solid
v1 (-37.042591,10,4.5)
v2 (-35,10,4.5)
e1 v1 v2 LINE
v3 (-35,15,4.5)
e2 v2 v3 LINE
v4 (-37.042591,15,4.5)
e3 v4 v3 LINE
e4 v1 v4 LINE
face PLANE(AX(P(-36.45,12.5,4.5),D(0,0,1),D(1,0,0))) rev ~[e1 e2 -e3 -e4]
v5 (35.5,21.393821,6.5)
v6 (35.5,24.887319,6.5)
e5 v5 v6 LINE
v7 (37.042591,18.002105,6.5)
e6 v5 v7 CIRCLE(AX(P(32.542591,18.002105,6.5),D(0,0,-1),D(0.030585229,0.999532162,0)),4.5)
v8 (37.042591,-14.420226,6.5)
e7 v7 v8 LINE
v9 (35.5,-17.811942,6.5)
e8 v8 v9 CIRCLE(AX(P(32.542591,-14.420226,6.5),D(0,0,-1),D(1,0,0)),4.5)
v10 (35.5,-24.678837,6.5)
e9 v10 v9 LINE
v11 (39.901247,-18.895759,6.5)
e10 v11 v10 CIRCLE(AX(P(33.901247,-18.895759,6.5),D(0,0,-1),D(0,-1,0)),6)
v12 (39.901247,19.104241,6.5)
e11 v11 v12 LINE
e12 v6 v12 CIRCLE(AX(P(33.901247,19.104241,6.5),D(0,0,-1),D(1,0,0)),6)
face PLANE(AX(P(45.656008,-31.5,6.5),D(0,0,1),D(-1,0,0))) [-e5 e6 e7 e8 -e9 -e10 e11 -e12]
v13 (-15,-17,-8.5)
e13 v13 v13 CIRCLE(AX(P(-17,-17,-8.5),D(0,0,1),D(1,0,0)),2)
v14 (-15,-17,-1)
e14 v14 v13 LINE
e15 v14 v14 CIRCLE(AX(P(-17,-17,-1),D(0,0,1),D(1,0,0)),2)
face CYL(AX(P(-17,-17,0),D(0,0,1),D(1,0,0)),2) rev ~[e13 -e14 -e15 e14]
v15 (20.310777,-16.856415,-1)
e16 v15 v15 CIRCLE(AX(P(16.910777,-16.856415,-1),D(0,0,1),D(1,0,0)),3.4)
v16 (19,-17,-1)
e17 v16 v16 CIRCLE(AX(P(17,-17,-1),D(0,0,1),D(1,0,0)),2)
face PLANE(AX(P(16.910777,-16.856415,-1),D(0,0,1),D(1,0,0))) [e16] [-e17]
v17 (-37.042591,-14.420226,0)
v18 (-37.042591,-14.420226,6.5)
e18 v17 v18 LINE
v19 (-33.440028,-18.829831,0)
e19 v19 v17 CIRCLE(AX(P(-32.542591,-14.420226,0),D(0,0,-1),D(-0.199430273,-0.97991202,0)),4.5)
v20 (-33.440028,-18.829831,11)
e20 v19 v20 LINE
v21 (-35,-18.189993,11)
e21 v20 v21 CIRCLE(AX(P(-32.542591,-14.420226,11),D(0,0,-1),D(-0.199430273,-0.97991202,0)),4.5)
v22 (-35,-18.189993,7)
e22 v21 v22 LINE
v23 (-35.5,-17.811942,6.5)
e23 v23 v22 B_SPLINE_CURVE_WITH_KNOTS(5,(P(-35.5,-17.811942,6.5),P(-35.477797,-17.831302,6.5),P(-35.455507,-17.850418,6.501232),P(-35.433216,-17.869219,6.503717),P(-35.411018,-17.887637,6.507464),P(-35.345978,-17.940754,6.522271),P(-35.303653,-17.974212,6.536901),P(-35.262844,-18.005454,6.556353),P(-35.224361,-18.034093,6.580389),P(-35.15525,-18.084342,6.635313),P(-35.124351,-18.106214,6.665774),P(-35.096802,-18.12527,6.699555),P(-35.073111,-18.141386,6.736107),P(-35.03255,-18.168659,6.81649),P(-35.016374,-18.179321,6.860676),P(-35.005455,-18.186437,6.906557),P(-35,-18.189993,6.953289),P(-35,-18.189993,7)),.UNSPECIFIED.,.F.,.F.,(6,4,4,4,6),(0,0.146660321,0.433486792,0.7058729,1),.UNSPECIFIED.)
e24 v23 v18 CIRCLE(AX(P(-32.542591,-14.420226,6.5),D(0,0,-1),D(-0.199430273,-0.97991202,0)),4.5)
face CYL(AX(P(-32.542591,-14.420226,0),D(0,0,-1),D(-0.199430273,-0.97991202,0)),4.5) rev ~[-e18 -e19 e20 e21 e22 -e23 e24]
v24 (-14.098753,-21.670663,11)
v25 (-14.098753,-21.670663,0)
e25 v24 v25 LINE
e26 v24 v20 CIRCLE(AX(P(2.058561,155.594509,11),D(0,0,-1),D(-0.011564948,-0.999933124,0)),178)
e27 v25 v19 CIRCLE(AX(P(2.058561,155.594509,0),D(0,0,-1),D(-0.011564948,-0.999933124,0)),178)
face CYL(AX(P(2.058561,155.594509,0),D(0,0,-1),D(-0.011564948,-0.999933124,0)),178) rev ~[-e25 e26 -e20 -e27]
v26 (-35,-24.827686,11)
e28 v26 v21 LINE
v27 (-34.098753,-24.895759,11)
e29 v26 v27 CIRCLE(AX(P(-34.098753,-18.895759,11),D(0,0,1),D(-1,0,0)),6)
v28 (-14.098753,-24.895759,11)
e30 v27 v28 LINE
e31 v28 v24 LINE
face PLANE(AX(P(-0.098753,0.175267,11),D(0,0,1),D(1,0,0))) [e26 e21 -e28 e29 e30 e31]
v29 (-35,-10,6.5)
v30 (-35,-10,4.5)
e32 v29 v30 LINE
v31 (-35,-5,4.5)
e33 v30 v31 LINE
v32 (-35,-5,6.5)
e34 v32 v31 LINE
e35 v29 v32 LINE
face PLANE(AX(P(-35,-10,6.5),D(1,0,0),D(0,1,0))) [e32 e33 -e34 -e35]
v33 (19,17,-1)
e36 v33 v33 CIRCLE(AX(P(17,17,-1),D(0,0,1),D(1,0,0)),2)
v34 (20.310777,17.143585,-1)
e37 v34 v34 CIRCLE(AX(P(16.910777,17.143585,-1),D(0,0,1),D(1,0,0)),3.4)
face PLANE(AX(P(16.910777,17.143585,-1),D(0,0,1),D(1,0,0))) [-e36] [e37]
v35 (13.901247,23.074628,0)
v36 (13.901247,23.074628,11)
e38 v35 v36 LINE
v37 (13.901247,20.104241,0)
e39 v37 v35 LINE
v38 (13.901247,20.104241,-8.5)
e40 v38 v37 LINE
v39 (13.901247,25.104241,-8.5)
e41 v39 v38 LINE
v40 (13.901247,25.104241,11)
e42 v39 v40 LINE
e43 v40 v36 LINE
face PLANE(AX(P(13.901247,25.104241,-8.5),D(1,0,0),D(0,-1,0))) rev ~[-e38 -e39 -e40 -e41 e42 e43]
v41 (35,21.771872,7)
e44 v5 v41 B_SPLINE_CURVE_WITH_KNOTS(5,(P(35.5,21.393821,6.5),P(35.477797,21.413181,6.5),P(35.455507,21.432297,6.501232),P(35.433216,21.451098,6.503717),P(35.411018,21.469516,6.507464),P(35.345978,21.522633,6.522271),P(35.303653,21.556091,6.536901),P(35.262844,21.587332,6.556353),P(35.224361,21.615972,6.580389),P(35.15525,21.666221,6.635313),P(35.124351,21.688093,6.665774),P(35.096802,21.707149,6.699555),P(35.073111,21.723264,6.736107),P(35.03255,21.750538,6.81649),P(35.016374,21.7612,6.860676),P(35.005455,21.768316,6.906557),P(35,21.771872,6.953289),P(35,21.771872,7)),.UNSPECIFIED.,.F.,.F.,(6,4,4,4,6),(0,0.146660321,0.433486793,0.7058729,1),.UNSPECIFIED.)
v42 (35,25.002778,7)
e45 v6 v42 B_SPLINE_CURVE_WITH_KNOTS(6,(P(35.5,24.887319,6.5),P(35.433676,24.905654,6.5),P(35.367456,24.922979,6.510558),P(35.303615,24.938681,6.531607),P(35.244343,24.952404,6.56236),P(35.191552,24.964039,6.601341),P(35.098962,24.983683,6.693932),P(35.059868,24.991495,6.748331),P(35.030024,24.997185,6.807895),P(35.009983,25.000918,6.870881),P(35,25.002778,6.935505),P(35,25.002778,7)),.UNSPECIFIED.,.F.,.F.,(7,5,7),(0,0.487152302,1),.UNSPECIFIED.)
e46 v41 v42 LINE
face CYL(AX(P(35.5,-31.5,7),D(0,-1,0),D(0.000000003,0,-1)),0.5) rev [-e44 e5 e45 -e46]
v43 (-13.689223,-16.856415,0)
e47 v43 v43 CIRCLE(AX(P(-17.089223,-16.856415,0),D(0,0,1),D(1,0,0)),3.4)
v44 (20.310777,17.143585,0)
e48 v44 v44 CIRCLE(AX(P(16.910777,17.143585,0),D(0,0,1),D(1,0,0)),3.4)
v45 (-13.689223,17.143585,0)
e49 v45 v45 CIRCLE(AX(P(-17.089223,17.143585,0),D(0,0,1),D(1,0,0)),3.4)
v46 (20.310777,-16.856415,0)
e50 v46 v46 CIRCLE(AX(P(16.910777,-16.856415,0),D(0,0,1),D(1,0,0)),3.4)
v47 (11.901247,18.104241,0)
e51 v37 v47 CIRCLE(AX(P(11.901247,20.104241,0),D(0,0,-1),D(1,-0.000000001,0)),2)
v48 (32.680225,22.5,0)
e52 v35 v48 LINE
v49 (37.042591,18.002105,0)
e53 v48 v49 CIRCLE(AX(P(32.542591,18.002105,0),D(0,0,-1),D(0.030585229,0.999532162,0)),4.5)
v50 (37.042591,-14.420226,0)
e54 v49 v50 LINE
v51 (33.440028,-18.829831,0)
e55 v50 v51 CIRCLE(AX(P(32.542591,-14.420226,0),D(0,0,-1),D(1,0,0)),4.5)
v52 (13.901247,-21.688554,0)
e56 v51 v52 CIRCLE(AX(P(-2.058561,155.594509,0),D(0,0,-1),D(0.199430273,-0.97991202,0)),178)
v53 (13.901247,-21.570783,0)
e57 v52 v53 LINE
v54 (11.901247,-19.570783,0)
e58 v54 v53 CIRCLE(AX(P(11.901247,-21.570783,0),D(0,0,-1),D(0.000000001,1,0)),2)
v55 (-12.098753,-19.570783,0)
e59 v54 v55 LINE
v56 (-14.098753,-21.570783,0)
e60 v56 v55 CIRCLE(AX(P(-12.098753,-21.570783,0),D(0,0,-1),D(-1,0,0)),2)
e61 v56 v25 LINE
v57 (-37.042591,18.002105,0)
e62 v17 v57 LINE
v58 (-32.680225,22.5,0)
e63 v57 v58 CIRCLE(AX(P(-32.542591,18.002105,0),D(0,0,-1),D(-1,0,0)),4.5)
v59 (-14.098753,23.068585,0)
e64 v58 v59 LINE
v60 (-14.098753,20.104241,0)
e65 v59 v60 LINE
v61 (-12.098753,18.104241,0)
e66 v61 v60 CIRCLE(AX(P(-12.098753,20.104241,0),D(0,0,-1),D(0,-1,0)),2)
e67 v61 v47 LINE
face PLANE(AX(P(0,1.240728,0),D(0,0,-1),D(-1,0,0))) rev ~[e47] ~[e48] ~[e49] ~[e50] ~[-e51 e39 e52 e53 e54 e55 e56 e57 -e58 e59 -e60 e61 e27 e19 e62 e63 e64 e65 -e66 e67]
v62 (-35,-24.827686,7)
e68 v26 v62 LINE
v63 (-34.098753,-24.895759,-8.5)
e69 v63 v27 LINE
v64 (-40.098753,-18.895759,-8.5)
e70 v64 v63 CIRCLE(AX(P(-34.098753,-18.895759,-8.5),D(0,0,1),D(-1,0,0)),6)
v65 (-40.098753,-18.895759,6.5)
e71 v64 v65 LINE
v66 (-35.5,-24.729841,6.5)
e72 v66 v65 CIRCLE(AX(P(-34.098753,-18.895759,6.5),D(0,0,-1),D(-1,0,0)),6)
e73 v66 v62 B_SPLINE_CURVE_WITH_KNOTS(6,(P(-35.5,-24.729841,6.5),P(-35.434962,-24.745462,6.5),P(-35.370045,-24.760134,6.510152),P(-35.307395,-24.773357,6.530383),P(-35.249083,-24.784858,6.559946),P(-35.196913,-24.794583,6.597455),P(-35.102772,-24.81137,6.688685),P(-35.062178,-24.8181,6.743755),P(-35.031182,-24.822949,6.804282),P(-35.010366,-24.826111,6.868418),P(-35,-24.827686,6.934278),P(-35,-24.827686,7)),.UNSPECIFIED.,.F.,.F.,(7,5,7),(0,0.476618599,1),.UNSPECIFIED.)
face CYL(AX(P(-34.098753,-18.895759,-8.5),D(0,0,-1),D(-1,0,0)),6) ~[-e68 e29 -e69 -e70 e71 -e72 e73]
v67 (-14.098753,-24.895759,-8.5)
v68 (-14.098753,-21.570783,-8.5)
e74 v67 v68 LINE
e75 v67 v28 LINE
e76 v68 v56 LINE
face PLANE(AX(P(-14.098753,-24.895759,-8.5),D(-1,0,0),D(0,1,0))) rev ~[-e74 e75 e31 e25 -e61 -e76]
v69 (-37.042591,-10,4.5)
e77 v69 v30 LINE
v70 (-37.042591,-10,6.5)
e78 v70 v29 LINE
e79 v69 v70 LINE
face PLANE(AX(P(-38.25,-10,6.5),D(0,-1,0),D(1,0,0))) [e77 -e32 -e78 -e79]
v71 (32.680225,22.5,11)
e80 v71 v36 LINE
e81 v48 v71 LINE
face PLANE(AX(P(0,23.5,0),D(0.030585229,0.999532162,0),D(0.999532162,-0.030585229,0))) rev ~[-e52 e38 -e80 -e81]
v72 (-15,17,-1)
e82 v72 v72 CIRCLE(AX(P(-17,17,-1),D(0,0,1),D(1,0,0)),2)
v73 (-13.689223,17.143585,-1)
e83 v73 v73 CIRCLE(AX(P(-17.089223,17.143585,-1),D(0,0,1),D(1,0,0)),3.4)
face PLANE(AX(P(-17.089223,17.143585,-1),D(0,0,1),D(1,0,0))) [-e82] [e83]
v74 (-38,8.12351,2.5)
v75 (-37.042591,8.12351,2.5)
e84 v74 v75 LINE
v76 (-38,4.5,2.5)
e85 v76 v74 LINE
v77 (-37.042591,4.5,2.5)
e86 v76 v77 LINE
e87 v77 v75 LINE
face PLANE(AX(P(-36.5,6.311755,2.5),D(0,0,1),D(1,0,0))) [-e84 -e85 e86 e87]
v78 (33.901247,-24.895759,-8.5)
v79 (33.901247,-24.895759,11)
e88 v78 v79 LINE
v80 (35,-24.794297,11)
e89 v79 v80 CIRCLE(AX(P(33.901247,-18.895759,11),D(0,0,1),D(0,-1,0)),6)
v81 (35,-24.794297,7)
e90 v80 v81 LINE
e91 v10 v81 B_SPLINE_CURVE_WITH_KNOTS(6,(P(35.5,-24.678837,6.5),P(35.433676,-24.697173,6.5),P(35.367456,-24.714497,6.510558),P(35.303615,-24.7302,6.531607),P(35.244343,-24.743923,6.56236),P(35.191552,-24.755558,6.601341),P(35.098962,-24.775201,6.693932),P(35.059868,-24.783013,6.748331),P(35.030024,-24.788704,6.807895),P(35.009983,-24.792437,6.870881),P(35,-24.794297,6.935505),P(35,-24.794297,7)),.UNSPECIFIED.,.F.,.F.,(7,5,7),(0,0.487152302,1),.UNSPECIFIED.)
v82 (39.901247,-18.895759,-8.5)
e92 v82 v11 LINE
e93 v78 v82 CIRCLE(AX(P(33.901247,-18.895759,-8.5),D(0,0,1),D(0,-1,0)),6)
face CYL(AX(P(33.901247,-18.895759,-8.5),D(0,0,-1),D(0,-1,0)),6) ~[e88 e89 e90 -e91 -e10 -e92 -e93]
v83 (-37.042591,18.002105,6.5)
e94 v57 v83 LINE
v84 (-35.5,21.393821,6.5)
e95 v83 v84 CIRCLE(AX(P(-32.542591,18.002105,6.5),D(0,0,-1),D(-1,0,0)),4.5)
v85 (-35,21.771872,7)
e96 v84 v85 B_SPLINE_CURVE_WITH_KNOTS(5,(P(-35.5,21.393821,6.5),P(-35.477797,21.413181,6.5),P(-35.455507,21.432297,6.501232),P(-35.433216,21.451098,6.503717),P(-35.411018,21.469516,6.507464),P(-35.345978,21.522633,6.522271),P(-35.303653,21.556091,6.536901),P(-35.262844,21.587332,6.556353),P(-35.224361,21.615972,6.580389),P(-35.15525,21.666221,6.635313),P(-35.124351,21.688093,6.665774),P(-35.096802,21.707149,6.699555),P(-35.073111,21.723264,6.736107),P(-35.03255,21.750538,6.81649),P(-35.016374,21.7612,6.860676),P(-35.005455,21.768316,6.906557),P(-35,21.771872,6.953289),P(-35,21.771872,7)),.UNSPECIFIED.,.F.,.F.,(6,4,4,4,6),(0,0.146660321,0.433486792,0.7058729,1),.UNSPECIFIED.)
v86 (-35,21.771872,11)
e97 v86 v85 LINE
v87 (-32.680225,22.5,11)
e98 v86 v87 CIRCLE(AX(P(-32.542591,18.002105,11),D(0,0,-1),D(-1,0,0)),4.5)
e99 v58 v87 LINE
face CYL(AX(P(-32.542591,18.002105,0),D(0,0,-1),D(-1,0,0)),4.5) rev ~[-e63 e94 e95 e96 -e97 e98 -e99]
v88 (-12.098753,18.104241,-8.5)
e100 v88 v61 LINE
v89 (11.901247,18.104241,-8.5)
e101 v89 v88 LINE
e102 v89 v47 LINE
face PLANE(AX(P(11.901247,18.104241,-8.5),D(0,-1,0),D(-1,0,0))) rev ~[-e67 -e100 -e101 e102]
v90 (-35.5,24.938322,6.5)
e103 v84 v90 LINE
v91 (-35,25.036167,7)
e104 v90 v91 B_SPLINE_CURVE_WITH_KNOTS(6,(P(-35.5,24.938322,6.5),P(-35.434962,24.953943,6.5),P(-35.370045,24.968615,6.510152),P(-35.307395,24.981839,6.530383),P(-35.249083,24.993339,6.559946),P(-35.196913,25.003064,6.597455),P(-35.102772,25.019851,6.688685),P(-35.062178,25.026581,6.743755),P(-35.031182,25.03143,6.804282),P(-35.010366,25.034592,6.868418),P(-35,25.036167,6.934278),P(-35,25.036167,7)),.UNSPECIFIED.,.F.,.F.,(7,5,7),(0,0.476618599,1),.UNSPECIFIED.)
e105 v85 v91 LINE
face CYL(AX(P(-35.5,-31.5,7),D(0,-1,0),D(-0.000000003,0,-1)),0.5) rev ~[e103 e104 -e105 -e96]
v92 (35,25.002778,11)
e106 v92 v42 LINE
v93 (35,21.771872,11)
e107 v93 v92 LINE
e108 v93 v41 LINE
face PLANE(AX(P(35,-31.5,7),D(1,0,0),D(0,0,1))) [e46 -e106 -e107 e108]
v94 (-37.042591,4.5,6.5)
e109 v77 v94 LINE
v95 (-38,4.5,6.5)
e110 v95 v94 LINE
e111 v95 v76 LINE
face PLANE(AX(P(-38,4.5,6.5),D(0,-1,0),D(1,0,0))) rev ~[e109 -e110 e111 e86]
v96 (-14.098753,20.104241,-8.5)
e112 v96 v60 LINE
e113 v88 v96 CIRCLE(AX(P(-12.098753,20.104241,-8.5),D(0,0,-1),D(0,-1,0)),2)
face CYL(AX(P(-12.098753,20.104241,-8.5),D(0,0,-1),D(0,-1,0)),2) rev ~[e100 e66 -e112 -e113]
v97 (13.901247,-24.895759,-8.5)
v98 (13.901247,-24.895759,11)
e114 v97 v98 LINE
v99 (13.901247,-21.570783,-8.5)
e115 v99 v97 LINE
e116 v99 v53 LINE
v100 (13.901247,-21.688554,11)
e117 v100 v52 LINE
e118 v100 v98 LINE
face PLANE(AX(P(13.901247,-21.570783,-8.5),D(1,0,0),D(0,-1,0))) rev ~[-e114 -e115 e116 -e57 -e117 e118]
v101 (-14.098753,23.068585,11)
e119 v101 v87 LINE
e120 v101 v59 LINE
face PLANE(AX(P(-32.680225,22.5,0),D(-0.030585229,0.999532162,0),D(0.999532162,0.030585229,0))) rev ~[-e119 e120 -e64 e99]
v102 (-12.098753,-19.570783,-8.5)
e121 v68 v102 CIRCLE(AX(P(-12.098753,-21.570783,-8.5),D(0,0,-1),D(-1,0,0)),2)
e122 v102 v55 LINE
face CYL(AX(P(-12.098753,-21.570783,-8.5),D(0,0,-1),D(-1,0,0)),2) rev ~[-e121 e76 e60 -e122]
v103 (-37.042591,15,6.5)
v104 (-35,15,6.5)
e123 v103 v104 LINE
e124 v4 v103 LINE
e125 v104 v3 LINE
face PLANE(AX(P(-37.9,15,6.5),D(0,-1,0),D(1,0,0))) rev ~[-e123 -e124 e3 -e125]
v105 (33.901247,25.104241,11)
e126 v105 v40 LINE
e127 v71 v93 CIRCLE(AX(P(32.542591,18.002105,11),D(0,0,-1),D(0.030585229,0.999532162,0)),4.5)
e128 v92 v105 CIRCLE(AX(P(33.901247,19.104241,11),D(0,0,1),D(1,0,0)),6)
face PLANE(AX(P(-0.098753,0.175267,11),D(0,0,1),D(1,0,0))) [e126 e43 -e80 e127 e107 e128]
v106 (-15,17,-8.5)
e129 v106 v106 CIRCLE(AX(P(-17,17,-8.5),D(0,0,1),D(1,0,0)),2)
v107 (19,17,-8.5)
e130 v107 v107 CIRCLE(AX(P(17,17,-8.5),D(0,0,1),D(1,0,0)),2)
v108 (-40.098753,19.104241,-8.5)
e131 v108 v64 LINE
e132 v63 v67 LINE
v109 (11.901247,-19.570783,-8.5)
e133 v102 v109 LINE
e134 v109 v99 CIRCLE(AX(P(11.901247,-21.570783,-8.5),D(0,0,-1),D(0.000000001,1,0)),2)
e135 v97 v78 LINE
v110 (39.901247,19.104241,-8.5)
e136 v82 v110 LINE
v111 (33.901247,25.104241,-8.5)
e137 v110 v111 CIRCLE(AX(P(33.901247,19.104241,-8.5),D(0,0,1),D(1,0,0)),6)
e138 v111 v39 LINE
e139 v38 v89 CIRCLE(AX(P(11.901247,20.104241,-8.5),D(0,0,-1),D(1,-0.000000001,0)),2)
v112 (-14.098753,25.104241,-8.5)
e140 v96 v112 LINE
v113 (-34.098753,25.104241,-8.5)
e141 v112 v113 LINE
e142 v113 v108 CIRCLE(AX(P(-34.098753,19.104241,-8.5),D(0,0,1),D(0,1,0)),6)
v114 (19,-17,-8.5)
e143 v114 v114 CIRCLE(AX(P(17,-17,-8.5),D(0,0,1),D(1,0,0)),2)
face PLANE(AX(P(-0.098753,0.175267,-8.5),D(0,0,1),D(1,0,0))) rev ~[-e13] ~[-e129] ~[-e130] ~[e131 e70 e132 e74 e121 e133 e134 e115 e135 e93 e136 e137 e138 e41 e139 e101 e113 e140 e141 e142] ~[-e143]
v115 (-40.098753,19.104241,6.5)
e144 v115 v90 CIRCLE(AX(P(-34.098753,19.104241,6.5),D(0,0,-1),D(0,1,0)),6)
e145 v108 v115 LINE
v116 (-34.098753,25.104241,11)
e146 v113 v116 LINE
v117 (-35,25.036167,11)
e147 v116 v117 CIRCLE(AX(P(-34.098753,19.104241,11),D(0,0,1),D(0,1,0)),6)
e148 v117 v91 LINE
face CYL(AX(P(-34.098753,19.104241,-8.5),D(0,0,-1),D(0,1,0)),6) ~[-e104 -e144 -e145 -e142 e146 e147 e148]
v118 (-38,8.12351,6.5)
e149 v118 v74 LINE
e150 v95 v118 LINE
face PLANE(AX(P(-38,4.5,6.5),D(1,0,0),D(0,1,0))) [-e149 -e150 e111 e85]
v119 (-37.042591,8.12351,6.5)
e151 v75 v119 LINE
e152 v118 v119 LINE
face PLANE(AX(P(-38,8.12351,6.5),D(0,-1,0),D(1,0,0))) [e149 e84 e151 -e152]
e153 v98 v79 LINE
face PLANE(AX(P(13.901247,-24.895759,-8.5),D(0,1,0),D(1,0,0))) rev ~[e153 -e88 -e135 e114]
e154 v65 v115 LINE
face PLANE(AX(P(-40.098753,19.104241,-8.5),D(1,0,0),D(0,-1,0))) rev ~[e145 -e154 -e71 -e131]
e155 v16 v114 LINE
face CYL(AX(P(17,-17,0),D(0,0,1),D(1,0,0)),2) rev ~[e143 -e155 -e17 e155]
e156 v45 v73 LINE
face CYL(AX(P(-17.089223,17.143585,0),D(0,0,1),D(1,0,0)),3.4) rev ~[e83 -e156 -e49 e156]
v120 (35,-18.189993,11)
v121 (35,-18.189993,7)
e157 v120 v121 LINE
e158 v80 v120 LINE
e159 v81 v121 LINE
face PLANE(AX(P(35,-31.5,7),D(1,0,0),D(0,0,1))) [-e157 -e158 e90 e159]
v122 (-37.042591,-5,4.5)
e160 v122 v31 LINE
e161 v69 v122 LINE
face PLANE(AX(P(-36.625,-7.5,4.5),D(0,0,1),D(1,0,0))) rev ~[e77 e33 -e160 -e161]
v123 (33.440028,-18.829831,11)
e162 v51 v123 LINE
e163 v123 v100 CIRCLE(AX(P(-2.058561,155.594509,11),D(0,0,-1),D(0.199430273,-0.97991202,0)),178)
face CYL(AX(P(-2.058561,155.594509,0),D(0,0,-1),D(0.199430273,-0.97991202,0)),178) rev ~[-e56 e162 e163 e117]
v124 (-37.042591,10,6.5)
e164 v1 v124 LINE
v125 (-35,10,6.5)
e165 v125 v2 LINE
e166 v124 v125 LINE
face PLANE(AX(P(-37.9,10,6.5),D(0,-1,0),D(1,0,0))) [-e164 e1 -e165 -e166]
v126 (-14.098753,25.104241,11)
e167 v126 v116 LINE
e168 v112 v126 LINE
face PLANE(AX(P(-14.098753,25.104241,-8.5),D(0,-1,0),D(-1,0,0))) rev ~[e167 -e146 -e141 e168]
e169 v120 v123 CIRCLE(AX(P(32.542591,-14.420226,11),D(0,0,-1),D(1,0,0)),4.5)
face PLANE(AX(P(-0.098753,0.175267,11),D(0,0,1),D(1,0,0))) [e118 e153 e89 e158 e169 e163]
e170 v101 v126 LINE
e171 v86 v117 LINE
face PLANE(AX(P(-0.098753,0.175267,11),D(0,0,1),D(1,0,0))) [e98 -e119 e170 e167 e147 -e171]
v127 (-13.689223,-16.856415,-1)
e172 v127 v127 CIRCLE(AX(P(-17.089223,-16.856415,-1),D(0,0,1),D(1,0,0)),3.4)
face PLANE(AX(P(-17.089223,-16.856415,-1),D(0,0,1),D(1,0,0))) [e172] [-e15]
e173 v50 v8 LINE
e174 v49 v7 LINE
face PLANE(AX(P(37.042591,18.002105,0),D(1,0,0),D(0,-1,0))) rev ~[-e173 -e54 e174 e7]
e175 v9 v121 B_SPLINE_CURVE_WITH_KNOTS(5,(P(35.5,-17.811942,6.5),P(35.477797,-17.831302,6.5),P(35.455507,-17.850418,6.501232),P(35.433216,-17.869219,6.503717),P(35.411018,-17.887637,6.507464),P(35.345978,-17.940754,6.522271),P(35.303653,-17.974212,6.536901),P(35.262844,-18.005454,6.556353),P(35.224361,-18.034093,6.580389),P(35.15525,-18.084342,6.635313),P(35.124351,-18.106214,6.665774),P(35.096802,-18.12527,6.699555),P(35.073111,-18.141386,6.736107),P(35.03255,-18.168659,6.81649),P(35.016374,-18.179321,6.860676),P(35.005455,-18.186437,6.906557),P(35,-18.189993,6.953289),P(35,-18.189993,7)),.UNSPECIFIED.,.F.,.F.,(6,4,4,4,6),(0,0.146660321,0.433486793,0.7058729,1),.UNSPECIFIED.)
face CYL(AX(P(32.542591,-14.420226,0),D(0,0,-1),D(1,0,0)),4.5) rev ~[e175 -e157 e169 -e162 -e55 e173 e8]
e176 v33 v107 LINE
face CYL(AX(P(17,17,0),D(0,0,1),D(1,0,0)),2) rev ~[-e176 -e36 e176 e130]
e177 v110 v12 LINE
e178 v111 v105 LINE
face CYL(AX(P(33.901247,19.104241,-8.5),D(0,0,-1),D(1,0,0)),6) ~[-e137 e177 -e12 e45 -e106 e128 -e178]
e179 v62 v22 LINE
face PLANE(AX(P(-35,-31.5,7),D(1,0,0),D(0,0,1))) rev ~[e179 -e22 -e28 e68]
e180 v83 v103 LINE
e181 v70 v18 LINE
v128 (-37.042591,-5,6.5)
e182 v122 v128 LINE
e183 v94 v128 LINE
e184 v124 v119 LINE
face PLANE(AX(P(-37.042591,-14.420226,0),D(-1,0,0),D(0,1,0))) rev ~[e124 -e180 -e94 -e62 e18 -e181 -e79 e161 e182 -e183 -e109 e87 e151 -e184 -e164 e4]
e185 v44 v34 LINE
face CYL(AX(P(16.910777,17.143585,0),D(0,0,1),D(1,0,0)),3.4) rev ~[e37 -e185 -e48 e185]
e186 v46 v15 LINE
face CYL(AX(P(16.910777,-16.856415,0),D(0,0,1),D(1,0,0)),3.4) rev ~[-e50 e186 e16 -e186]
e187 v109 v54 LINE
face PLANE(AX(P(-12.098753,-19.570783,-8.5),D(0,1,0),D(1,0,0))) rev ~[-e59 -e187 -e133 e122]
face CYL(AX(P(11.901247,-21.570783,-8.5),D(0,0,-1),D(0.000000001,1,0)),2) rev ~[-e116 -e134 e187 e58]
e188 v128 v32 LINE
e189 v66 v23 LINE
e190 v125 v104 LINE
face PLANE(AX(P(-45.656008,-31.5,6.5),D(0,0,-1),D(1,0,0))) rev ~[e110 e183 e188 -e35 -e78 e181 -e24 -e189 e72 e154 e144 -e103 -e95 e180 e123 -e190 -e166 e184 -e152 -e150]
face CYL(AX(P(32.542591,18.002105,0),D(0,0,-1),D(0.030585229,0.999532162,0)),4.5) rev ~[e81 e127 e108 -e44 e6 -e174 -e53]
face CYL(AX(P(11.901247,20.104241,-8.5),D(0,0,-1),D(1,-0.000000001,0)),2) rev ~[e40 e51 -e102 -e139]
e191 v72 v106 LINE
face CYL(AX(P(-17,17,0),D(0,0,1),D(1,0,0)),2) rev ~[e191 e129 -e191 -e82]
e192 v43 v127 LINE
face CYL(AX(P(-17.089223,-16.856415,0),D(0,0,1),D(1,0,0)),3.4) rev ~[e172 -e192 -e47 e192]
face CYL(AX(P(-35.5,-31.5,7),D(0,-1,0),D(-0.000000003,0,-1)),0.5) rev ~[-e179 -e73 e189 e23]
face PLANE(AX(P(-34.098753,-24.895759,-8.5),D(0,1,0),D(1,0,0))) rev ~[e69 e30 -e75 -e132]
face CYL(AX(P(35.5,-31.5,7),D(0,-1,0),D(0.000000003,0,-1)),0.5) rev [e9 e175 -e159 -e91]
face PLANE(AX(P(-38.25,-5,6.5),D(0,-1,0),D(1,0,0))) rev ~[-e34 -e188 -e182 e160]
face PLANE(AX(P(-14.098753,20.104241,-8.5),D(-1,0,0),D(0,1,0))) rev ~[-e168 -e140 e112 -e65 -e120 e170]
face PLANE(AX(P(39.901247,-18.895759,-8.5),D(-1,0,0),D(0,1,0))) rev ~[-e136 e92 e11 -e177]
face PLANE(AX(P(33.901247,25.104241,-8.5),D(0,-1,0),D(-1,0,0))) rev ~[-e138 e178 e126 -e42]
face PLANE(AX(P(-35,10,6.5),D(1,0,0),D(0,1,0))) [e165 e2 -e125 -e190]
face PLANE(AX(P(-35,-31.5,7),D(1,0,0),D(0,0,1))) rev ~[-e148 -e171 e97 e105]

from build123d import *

# Parameters (mm, degrees)
XOR_EXTRUDE1_580_DEPTH          = 11
XOR_EXTRUDE1_580_DEPTH_BACK     = 8.5
XOR_EXTRUDE2_CUT_582_DEPTH      = 23
XOR_EXTRUDE3_CUT_585_DEPTH      = 30
XOR_EXTRUDE3_CUT_585_DEPTH_BACK = 31.5
XOR_SKETCH4_MESH_586_R          = 2
XOR_EXTRUDE4_CUT_587_DEPTH      = 30
XOR_SKETCH5_MESH_588_R          = 3.4
XOR_EXTRUDE5_CUT_949_DEPTH      = 1
XOR_SKETCH6_MESH_1066_W         = 3.25
XOR_SKETCH6_MESH_1066_H         = 5
XOR_SKETCH6_MESH_1066_W_2       = 2.9
XOR_EXTRUDE6_MERGE_1279_DEPTH   = 2
XOR_SKETCH7_MESH_2256_W         = 3
XOR_SKETCH7_MESH_2256_H         = 3.62350981
XOR_EXTRUDE7_CUT_2327_DEPTH     = 4


with BuildPart() as part:
    # XOR_Sketch1 (Mesh)_7 → XOR_Extrude1_580 (new, two sides: drawn at the far end of the back side and taken through both)
    with BuildSketch(Plane.XY.offset(-XOR_EXTRUDE1_580_DEPTH_BACK)):
        with BuildLine():
            Line((11.901247371, 18.104240693), (-12.098752629, 18.104240693))
            ThreePointArc((-12.098752629, 18.104240693), (-13.512966192, 18.690027131), (-14.098752629, 20.104240693))
            Line((-14.098752629, 20.104240693), (-14.098752629, 25.104240693))
            Line((-14.098752629, 25.104240693), (-34.098752629, 25.104240693))
            ThreePointArc((-34.098752629, 25.104240693), (-38.341393316, 23.34688138), (-40.098752629, 19.104240693))
            Line((-40.098752629, 19.104240693), (-40.098752629, -18.895759307))
            ThreePointArc((-40.098752629, -18.895759307), (-38.341393316, -23.138399994), (-34.098752629, -24.895759307))
            Line((-34.098752629, -24.895759307), (-14.098752629, -24.895759307))
            Line((-14.098752629, -24.895759307), (-14.098752629, -21.570783007))
            ThreePointArc((-14.098752629, -21.570783007), (-13.512966192, -20.156569445), (-12.098752629, -19.570783007))
            Line((-12.098752629, -19.570783007), (11.901247371, -19.570783007))
            ThreePointArc((11.901247371, -19.570783007), (13.315460933, -20.156569445), (13.901247371, -21.570783007))
            Line((13.901247371, -21.570783007), (13.901247371, -24.895759307))
            Line((13.901247371, -24.895759307), (33.901247371, -24.895759307))
            ThreePointArc((33.901247371, -24.895759307), (38.143888058, -23.138399994), (39.901247371, -18.895759307))
            Line((39.901247371, -18.895759307), (39.901247371, 19.104240693))
            ThreePointArc((39.901247371, 19.104240693), (38.143888058, 23.34688138), (33.901247371, 25.104240693))
            Line((33.901247371, 25.104240693), (13.901247371, 25.104240693))
            Line((13.901247371, 25.104240693), (13.901247371, 20.104240693))
            ThreePointArc((13.901247371, 20.104240693), (13.315460933, 18.690027131), (11.901247371, 18.104240693))
        make_face()
    extrude(amount=XOR_EXTRUDE1_580_DEPTH + XOR_EXTRUDE1_580_DEPTH_BACK)

    # XOR_Sketch2 (Mesh)_581 → XOR_Extrude2 (Cut)_582 (cut)
    with BuildSketch(Plane.XY):
        with BuildLine():
            Line((37.042591497, 18.002105269), (37.042591497, -14.420226453))
            ThreePointArc((37.042591497, -14.420226453), (36.027448956, -17.267289587), (33.440027724, -18.829830542))
            ThreePointArc((33.440027724, -18.829830542), (16.804364648, -21.403203006), (0, -22.393587061))
            ThreePointArc((0, -22.393587061), (-16.804364648, -21.403203006), (-33.440027724, -18.829830542))
            ThreePointArc((-33.440027724, -18.829830542), (-36.027448956, -17.267289587), (-37.042591497, -14.420226453))
            Line((-37.042591497, -14.420226453), (-37.042591497, 18.002105269))
            ThreePointArc((-37.042591497, 18.002105269), (-35.772866321, 21.135047107), (-32.680225027, 22.5))
            Line((-32.680225027, 22.5), (0, 23.5))
            Line((0, 23.5), (32.680225027, 22.5))
            ThreePointArc((32.680225027, 22.5), (35.772866321, 21.135047107), (37.042591497, 18.002105269))
        make_face()
    extrude(amount=XOR_EXTRUDE2_CUT_582_DEPTH, mode=Mode.SUBTRACT)

    # XOR_Sketch3 (Mesh)_583 → XOR_Extrude3 (Cut)_585 (cut, two sides: drawn at the far end of the back side and taken through both)
    with BuildSketch(Plane(origin=(0, 0, 0), x_dir=(1, 0, 0), z_dir=(0, 1, 0)).offset(-XOR_EXTRUDE3_CUT_585_DEPTH_BACK)):
        with BuildLine():
            Line((35, -7), (35, -20.680063706))
            Line((35, -20.680063706), (45.656007765, -20.680063706))
            Line((45.656007765, -20.680063706), (45.656007765, -6.5))
            Line((45.656007765, -6.5), (35.5, -6.5))
            ThreePointArc((35.5, -6.5), (35.146446609, -6.646446609), (35, -7))
        make_face()
        with BuildLine():
            Line((-45.656007765, -20.680063706), (-45.656007765, -6.5))
            Line((-45.656007765, -6.5), (-35.5, -6.5))
            ThreePointArc((-35.5, -6.5), (-35.146446609, -6.646446609), (-35, -7))
            Line((-35, -7), (-35, -20.680063706))
            Line((-35, -20.680063706), (-45.656007765, -20.680063706))
        make_face()
    extrude(amount=XOR_EXTRUDE3_CUT_585_DEPTH + XOR_EXTRUDE3_CUT_585_DEPTH_BACK, mode=Mode.SUBTRACT)

    # XOR_Sketch4 (Mesh)_586 → XOR_Extrude4 (Cut)_587 (cut)
    with BuildSketch(Plane.XY):
        with Locations((-17, -17)):
            Circle(XOR_SKETCH4_MESH_586_R)
        with Locations((-17, 17)):
            Circle(XOR_SKETCH4_MESH_586_R)
        with Locations((17, -17)):
            Circle(XOR_SKETCH4_MESH_586_R)
        with Locations((17, 17)):
            Circle(XOR_SKETCH4_MESH_586_R)
    extrude(amount=-XOR_EXTRUDE4_CUT_587_DEPTH, mode=Mode.SUBTRACT)

    # XOR_Sketch5 (Mesh)_588 → XOR_Extrude5 (Cut)_949 (cut)
    with BuildSketch(Plane.XY):
        with Locations((16.910776866, 17.14358453)):
            Circle(XOR_SKETCH5_MESH_588_R)
        with Locations((-17.089223134, 17.14358453)):
            Circle(XOR_SKETCH5_MESH_588_R)
        with Locations((16.910776866, -16.85641547)):
            Circle(XOR_SKETCH5_MESH_588_R)
        with Locations((-17.089223134, -16.85641547)):
            Circle(XOR_SKETCH5_MESH_588_R)
    extrude(amount=-XOR_EXTRUDE5_CUT_949_DEPTH, mode=Mode.SUBTRACT)

    # XOR_Sketch6 (Mesh)_1066 → XOR_Extrude6 (Merge)_1279 (add)
    with BuildSketch(Plane.XY.offset(6.5)):
        with Locations((-36.625, -7.5)):
            Rectangle(XOR_SKETCH6_MESH_1066_W, XOR_SKETCH6_MESH_1066_H)
        with Locations((-36.45, 12.5)):
            Rectangle(XOR_SKETCH6_MESH_1066_W_2, XOR_SKETCH6_MESH_1066_H)
    extrude(amount=-XOR_EXTRUDE6_MERGE_1279_DEPTH)

    # XOR_Sketch7 (Mesh)_2256 → XOR_Extrude7 (Cut)_2327 (cut)
    with BuildSketch(Plane.XY.offset(6.5)):
        with Locations((-36.5, 6.311754905)):
            Rectangle(XOR_SKETCH7_MESH_2256_W, XOR_SKETCH7_MESH_2256_H)
    extrude(amount=-XOR_EXTRUDE7_CUT_2327_DEPTH, mode=Mode.SUBTRACT)


solid = part.part
